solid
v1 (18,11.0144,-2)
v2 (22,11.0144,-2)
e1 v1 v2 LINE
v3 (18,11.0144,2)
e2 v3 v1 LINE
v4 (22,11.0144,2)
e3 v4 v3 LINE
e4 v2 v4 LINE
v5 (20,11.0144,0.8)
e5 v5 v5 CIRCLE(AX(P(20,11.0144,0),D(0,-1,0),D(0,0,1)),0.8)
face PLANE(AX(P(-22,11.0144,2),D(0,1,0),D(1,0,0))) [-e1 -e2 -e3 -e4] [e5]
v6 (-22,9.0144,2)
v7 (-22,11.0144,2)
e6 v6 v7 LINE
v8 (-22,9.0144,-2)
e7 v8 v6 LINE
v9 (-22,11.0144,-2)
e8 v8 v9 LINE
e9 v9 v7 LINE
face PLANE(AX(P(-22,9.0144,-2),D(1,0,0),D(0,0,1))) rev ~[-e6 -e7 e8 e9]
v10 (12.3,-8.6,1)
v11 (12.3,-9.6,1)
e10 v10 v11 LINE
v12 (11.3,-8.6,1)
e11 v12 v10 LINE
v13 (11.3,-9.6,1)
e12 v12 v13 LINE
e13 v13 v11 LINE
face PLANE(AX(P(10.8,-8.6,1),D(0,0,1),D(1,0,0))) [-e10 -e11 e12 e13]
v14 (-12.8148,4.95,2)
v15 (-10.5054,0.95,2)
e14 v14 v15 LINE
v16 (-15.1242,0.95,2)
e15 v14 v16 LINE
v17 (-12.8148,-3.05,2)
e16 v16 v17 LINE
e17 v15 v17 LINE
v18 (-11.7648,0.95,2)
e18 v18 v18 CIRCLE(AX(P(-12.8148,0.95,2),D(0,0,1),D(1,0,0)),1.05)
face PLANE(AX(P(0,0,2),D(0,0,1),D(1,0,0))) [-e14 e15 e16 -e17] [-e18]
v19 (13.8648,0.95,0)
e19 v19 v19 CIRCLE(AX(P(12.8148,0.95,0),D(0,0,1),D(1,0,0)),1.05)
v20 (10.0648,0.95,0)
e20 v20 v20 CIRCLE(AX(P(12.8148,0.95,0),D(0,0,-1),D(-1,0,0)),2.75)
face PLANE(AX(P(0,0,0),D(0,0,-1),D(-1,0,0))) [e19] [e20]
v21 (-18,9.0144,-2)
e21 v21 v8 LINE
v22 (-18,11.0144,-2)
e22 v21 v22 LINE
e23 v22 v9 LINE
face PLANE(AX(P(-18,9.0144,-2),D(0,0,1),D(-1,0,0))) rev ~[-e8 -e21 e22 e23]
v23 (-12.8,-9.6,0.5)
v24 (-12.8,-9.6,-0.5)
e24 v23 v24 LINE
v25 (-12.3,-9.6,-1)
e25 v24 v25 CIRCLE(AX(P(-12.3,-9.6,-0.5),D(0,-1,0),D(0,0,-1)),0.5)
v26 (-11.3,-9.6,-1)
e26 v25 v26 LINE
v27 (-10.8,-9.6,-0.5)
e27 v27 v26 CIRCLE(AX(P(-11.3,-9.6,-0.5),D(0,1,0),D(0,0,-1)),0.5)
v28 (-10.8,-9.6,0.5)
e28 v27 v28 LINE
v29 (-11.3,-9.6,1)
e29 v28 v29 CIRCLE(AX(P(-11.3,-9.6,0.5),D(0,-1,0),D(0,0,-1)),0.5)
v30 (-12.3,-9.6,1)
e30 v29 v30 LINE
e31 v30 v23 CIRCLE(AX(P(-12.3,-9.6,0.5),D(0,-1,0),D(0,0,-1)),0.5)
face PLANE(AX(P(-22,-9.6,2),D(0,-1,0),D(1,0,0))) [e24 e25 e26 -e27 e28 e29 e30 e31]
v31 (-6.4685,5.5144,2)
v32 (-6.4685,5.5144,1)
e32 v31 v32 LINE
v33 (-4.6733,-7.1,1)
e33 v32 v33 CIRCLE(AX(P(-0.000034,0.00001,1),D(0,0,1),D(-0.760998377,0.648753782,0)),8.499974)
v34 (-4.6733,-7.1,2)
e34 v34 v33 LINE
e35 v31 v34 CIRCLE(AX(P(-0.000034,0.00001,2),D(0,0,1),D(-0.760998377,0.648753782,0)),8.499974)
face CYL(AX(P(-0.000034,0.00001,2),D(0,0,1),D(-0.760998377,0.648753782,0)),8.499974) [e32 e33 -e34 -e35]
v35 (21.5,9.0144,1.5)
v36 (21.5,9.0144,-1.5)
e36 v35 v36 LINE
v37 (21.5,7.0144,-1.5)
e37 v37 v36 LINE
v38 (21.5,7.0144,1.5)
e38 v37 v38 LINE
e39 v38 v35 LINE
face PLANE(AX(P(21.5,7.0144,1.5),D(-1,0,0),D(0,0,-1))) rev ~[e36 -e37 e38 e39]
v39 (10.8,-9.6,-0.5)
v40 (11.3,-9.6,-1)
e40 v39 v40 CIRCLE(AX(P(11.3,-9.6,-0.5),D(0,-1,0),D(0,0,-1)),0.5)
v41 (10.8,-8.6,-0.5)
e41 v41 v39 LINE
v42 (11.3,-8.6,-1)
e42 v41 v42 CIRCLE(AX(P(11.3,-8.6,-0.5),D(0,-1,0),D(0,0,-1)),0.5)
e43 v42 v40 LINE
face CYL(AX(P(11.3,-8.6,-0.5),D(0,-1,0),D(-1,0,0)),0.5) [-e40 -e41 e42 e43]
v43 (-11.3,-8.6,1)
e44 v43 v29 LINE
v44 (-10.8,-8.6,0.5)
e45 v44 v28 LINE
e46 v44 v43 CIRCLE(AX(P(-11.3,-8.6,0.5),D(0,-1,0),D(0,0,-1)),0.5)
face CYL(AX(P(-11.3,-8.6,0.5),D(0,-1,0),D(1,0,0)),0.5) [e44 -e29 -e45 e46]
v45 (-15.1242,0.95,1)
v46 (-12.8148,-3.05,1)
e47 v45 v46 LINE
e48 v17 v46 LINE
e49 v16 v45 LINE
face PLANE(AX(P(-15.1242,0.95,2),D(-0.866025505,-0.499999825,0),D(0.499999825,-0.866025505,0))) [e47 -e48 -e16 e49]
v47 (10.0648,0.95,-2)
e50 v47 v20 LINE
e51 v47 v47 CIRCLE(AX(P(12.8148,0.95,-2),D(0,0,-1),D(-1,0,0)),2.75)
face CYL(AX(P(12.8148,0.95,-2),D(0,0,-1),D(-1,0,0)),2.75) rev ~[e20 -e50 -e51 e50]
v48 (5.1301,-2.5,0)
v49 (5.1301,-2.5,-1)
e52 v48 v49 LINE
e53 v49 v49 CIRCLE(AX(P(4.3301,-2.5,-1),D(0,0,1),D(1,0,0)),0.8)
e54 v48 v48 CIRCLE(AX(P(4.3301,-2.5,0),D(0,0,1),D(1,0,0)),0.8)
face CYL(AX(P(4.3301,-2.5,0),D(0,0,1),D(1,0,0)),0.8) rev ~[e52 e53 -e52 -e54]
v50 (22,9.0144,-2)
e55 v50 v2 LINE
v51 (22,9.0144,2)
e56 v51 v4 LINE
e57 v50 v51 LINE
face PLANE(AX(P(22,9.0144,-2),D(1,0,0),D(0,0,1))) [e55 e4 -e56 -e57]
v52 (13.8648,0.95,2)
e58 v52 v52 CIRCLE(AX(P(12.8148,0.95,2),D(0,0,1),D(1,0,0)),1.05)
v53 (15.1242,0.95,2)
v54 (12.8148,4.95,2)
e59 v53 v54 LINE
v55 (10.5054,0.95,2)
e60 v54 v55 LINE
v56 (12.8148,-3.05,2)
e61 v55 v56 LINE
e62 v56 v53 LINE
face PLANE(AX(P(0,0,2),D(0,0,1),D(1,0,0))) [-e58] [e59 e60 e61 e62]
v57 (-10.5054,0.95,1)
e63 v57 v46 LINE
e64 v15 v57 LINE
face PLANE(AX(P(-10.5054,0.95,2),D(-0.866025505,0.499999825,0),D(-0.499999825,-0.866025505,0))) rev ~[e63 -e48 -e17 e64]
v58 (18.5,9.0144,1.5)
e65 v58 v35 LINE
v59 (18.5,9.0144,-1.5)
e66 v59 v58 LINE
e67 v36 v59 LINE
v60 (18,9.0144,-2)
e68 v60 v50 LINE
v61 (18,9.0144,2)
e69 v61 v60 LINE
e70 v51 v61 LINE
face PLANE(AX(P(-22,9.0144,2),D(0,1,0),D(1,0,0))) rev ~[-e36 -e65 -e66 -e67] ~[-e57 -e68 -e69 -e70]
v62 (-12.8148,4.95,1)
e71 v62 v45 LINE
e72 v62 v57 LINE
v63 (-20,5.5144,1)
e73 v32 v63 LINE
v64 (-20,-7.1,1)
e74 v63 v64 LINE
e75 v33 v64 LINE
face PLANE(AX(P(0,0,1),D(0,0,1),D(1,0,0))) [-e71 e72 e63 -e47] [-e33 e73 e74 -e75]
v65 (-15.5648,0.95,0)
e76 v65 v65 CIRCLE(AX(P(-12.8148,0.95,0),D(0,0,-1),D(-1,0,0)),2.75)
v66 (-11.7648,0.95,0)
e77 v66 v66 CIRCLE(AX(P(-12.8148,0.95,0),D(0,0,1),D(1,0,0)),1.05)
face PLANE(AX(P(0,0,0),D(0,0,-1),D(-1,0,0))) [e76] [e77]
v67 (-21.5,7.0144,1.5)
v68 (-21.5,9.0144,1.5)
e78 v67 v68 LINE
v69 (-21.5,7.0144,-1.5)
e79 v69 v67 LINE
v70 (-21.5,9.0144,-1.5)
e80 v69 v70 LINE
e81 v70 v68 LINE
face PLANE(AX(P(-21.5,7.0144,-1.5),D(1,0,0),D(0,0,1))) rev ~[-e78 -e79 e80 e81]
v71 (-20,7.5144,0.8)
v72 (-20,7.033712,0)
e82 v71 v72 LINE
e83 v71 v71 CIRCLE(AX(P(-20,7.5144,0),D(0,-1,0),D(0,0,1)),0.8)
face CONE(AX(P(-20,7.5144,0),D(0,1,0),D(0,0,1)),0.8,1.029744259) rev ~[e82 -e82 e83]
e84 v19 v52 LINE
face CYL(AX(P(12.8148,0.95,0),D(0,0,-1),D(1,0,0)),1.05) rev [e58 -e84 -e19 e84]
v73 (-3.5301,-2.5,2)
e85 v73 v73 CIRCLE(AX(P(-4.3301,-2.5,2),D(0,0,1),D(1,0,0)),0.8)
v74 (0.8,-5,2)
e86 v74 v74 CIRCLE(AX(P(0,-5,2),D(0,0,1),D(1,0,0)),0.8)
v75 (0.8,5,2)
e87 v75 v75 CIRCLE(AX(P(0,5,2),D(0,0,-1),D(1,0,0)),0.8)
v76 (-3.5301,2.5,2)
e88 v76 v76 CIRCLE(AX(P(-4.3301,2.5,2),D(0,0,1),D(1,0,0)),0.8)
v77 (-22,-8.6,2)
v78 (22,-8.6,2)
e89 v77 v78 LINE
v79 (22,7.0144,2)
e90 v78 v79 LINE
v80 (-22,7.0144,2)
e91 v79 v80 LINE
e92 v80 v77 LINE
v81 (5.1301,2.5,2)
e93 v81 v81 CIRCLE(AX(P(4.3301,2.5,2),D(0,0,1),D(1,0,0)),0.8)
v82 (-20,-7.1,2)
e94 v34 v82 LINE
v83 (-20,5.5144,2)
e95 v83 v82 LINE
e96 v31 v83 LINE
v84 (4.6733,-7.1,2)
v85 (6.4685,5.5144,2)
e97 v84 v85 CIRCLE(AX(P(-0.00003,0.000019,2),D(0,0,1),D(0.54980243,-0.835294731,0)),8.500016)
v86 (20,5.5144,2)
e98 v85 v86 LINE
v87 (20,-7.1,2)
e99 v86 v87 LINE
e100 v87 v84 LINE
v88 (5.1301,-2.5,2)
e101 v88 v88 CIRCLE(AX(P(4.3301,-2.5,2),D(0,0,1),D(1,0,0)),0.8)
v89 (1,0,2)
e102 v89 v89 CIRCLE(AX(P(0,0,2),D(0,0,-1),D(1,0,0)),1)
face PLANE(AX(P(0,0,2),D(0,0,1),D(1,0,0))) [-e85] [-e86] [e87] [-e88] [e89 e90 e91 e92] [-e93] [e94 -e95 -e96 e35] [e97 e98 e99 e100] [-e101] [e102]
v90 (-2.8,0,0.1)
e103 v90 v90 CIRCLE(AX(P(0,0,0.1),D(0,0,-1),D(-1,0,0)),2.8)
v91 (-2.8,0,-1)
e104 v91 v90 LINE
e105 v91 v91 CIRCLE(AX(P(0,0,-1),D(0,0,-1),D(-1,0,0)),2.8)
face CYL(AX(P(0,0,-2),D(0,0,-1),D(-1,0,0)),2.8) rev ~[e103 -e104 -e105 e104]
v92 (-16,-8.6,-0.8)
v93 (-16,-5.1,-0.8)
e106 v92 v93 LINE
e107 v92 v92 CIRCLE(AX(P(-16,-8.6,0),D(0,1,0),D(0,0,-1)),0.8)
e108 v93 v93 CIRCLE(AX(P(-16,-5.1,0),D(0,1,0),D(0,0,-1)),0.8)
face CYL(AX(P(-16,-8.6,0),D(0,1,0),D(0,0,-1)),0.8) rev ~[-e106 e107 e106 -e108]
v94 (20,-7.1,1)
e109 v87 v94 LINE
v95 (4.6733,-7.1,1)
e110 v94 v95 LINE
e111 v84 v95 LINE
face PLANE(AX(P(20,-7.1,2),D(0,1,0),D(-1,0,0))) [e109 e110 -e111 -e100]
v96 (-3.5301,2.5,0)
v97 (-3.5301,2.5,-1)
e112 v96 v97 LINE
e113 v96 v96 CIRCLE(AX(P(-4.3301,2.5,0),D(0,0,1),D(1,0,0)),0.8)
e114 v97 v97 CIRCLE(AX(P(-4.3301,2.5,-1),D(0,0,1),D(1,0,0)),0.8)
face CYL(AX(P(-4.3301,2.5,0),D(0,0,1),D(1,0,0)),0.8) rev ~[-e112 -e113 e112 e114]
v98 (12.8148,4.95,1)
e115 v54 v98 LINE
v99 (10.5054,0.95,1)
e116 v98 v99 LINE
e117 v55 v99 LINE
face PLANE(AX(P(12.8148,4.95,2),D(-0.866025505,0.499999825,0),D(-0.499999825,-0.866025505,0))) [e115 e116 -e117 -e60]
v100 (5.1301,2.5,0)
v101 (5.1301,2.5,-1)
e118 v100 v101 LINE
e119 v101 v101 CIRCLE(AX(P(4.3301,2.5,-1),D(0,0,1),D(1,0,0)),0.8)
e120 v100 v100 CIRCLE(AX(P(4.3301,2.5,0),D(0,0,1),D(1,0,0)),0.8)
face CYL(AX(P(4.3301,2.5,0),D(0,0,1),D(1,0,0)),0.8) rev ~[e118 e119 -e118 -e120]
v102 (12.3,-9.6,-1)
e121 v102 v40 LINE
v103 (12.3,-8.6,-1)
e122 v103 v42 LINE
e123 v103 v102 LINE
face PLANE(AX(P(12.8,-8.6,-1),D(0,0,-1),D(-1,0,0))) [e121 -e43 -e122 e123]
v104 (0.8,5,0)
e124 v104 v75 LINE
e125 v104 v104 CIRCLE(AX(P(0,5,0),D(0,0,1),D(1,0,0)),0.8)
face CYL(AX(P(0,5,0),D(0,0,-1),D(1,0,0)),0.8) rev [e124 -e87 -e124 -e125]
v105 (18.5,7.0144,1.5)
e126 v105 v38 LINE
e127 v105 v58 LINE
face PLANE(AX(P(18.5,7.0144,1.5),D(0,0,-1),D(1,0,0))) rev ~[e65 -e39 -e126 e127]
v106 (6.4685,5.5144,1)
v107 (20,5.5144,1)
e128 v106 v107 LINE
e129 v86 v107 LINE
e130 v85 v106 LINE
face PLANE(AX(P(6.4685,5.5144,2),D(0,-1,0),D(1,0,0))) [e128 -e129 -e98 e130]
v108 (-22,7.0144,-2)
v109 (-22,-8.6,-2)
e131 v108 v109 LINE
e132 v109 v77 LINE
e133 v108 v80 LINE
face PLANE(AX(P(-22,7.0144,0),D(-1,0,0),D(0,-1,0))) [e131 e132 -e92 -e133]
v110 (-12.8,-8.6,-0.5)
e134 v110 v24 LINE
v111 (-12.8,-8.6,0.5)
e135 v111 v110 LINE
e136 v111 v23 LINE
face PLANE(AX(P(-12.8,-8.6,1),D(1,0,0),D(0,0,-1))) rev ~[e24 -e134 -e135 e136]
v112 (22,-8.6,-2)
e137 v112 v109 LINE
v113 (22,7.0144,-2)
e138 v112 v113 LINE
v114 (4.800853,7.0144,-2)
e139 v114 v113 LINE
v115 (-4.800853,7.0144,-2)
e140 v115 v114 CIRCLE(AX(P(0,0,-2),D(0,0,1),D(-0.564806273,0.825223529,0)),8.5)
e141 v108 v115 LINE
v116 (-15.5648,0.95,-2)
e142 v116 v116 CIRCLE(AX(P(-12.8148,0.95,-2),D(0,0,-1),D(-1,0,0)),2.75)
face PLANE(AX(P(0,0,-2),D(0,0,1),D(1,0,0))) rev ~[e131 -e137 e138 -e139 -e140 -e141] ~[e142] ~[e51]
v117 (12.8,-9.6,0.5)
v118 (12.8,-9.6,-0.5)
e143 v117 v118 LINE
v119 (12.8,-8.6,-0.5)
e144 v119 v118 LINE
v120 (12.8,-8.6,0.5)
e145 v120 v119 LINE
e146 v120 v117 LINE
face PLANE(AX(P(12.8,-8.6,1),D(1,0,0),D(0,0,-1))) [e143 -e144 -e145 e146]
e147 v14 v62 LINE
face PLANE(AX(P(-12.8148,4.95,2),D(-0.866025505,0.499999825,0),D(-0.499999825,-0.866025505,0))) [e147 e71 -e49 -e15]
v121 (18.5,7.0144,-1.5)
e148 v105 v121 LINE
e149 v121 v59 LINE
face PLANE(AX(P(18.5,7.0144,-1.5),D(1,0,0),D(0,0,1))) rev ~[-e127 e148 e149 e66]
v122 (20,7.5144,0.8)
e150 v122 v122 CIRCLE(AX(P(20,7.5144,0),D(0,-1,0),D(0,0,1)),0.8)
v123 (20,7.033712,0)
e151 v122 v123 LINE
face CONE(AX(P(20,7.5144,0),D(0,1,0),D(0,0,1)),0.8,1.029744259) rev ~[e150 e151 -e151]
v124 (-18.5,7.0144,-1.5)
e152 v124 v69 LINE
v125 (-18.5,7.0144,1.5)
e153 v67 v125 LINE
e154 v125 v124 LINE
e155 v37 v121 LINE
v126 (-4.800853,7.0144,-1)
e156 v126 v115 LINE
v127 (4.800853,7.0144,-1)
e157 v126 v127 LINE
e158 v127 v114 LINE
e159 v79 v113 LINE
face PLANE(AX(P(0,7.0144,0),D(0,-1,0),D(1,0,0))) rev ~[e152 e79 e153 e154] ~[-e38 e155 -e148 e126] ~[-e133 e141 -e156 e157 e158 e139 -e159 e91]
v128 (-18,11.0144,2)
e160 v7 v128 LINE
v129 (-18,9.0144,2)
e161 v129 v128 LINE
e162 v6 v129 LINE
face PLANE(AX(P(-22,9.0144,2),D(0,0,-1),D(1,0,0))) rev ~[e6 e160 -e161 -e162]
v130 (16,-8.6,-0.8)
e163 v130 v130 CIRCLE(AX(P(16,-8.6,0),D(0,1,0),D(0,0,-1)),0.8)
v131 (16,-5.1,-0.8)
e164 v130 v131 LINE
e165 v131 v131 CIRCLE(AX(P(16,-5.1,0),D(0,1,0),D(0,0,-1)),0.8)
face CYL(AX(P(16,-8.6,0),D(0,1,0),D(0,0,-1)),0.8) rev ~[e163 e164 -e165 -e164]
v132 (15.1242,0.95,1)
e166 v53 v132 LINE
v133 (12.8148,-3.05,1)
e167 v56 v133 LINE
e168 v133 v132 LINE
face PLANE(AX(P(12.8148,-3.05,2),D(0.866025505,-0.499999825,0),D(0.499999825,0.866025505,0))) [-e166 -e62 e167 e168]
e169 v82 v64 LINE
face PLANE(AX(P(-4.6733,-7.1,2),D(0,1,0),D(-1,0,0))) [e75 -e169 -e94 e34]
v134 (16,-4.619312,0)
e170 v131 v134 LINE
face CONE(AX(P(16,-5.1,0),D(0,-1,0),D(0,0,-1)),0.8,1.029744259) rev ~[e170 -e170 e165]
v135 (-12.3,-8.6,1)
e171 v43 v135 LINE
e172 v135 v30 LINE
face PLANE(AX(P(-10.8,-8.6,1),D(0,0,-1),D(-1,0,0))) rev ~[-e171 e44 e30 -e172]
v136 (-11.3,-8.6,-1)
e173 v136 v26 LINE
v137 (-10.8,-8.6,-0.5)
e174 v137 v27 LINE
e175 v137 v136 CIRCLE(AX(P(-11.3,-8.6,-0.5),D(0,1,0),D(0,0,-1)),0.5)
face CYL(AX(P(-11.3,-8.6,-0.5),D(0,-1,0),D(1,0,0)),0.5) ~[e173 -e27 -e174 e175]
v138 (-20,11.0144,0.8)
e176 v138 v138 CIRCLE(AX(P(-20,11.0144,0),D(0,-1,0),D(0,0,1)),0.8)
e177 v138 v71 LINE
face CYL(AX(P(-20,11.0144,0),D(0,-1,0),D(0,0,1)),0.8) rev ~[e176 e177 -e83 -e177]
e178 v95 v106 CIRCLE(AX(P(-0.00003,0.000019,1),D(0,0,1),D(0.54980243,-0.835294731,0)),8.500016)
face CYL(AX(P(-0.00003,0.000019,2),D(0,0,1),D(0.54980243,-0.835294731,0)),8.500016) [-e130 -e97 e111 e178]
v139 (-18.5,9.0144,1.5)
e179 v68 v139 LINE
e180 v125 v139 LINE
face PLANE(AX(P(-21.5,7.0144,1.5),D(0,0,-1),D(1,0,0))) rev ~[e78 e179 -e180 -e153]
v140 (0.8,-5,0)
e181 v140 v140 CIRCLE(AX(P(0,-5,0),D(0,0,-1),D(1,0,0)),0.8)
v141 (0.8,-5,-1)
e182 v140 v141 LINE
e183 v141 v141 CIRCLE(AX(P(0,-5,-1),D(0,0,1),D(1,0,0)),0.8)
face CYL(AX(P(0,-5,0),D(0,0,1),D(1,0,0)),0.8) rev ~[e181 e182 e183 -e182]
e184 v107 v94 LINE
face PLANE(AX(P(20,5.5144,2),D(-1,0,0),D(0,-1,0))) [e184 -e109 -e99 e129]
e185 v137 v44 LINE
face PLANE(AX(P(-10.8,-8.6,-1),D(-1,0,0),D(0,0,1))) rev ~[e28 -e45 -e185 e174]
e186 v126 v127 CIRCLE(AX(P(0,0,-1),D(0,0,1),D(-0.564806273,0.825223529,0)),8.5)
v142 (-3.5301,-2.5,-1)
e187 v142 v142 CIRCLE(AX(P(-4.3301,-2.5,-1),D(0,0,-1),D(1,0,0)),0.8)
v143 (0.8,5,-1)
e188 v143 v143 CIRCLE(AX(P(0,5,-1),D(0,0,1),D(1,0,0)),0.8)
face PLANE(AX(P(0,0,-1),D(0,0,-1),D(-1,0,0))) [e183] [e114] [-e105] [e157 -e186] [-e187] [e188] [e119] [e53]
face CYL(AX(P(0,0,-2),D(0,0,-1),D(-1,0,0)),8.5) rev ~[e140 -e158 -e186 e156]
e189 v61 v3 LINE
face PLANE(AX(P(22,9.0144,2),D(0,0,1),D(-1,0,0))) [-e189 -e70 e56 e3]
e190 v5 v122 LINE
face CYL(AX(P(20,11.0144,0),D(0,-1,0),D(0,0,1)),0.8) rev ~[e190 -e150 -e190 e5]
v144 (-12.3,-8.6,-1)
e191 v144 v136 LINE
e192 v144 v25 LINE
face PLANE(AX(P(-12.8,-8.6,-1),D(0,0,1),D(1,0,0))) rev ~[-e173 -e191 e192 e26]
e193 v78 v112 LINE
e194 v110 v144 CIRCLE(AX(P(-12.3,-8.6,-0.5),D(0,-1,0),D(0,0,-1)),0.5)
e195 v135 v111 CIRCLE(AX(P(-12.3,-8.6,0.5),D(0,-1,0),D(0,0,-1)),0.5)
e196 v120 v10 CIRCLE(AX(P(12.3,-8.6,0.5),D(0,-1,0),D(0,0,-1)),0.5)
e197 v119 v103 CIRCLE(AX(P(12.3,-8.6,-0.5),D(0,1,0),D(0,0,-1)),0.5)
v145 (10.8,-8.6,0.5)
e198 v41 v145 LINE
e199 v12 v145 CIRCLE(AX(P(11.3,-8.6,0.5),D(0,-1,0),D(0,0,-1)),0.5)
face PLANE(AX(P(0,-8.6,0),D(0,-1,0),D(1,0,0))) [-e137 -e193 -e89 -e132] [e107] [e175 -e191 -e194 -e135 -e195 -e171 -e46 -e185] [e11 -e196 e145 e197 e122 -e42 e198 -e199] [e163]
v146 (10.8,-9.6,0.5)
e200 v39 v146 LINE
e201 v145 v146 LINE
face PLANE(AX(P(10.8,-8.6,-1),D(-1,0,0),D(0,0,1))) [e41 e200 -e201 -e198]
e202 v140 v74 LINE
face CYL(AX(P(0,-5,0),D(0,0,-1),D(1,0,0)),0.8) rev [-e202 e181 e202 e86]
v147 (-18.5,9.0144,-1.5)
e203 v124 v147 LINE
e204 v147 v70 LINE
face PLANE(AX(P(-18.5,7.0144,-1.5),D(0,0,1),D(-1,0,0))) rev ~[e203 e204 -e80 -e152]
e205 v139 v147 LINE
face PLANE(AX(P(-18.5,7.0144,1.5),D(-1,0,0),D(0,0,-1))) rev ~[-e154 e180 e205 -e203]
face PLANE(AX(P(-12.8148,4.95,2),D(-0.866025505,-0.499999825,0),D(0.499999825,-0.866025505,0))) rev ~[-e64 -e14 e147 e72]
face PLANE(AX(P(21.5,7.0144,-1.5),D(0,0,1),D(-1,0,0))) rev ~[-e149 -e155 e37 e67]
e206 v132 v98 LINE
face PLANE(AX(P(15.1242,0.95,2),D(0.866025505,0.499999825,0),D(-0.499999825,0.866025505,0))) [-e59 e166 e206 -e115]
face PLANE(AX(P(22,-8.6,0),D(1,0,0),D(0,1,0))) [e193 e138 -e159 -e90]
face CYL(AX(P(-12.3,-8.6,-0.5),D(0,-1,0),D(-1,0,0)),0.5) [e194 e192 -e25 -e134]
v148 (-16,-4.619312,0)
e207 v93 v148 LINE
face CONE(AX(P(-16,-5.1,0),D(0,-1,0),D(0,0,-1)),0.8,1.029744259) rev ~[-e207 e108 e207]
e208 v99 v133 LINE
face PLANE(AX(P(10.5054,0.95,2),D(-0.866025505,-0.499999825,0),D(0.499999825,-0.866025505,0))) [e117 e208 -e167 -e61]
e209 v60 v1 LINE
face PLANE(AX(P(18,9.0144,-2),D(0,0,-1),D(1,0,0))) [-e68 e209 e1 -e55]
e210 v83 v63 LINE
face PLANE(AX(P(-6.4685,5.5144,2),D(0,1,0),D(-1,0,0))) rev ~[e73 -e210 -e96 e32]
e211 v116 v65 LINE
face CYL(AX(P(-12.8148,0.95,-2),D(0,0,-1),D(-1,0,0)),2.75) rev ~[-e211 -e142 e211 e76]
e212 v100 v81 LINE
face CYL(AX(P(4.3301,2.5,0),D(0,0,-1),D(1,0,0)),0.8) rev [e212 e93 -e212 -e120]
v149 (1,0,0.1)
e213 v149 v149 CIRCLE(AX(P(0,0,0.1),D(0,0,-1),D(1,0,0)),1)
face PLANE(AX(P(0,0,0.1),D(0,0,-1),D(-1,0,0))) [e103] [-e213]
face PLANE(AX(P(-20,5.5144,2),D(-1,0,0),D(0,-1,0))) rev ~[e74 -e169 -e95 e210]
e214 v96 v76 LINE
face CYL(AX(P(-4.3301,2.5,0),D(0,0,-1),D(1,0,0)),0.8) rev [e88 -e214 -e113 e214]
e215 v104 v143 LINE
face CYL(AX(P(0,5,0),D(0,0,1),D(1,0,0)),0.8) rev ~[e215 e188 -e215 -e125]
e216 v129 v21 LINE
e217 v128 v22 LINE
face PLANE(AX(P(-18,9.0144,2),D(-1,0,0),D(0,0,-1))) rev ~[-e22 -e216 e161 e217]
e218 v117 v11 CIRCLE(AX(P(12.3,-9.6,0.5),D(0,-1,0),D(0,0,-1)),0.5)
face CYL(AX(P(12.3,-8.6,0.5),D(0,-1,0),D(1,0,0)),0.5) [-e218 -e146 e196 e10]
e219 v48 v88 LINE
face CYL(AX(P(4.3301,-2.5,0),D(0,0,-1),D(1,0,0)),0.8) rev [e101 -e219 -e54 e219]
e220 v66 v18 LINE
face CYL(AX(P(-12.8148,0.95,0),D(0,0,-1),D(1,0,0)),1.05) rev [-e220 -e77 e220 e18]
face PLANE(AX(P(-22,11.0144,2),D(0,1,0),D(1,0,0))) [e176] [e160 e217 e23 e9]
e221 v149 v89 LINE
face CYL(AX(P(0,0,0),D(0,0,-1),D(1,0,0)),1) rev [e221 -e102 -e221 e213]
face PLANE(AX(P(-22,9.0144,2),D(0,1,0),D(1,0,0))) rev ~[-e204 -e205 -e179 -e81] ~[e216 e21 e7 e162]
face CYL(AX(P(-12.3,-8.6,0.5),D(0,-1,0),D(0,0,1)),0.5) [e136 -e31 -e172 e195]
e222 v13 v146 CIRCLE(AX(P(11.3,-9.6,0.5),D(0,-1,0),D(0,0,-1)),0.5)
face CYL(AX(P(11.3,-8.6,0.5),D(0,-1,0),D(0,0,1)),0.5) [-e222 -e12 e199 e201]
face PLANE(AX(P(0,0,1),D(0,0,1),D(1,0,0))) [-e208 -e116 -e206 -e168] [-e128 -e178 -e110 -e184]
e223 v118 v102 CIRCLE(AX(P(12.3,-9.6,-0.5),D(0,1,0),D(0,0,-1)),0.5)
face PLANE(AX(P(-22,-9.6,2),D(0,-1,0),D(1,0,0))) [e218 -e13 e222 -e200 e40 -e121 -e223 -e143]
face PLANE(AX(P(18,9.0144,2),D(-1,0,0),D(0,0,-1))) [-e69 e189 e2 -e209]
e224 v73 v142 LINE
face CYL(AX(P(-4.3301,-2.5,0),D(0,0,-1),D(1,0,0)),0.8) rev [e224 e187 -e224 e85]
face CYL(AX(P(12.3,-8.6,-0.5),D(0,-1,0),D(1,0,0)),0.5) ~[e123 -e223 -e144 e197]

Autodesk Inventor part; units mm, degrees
ref_plane "YZ Plane" through (0, 0, 0) normal (1, 0, 0) x (0, 1, 0)
ref_plane "XZ Plane" through (0, 0, 0) normal (0, 1, 0) x (-1, 0, 0)
ref_plane "XY Plane" through (0, 0, 0) normal (0, 0, 1) x (1, 0, 0)
sketch "構築線" plane through (0, 0, 0) normal (0, 0, 1) x (1, 0, 0)
  circle A0 centre (0, 0) radius 8.5
  circle A1 centre (0, 0) radius 2.8 construction
  circle A2 centre (0, 0) radius 5 construction
  line L0 (0, -8.6) -> (-25, -8.6) construction
  line L1 (0, -11.6) -> (-25, -11.6) construction
  circle A3 centre (-12.8148, 0.95) radius 10.05 construction
  circle A4 centre (-12.8148, 0.95) radius 12.55 construction
  circle A5 centre (0, 5) radius 0.8
  circle A6 centre (-4.3301, 2.5) radius 0.8
  circle A7 centre (-4.3301, -2.5) radius 0.8
  circle A8 centre (0, -5) radius 0.8
  circle A9 centre (4.3301, -2.5) radius 0.8
  circle A10 centre (4.3301, 2.5) radius 0.8
  line L2 (25, -8.6) -> (0, -8.6) construction
  circle A11 centre (12.8148, 0.95) radius 10.05 construction
  circle A12 centre (12.8148, 0.95) radius 12.55 construction
  line L3 (0, -11.6) -> (25, -11.6) construction
  line L4 (-22, -8.6) -> (0, -8.6)
  line L5 (0, 25) -> (0, -25)
  line L6 (0, -8.6) -> (22, -8.6)
  circle A13 centre (0, 0) radius 3
  circle A14 centre (0, 0) radius 1
  circle A15 centre (12.8148, 0.95) radius 1.05
  circle A16 centre (-12.8148, 0.95) radius 1.05
  circle A17 centre (12.8148, 0.95) radius 2.75
  circle A18 centre (-12.8148, 0.95) radius 2.75
  line L7 (-4.8008, 7.0144) -> (-17, 7.0144)
  line L8 (4.8008, 7.0144) -> (17, 7.0144)
  line L9 (-4.8008, 7.0144) -> (4.8008, 7.0144)
  line L10 (-17, 7.0144) -> (-22, 7.0144)
  line L11 (-22, 7.0144) -> (-22, -8.6)
  line L12 (22, -8.6) -> (22, 7.0144)
  line L13 (22, 7.0144) -> (17, 7.0144)
  dimension "d22" = 20.1
  dimension "d41" = 20.1
  dimension "d0" = 17
  dimension "d1" = 5.6
  dimension "d2" = 10
  dimension "d12" = 25
  dimension "d13" = 8.6
  dimension "d14" = 0
  dimension "d17" = 0
  dimension "d18" = 25
  dimension "d19" = 3
  dimension "d23" = 25.1
  dimension "d29" = 1.6
  dimension "d30" = 0
  dimension "d31" = 5
  dimension "d34" = 360
  dimension "d38" = 25
  dimension "d42" = 25.1
  dimension "d43" = 25
  dimension "d46" = 22
  dimension "d49" = 50
  dimension "d50" = 25
  dimension "d51" = 25
  dimension "d52" = 22
  dimension "d58" = 6
  dimension "d59" = 2
  dimension "d99" = 2.1
  dimension "d100" = 2.1
  dimension "d105" = 5.5
  dimension "d106" = 5.5
extrude "押し出し11" add sketch "構築線" along normal mid plane 4 contours A0 L5 A8 A13 A5 L9 | A0 L8 L13 L12 L6 L5 | L5 L4 L11 L10 L7 A0 | A0 L9 L5 A5 A13 A8 | A13 L5 A14 | L5 A14 A13 | A17 | A18
sketch "模様" plane through (0, 0, 2) normal (0, 0, 1) x (1, 0, 0)
  line L0 (-20, 5.5144) -> (-20, -7.1)
  line L1 (-20, -7.1) -> (20, -7.1) construction
  line L2 (-22, -8.6) -> (-22, 12.4) construction
  line L3 (-22, -8.6) -> (22, -8.6) construction
  line L4 (-20, 5.5144) -> (20, 5.5144) construction
  line L5 (20, 5.5144) -> (20, -7.1)
  line L6 (22, -8.6) -> (22, 12.4) construction
  line L7 (17, 7.0144) -> (-17, 7.0144) construction
  line L8 (-6.4685, 5.5144) -> (-20, 5.5144)
  line L9 (6.4685, 5.5144) -> (20, 5.5144)
  circle A0 centre (-12.8148, 0.95) radius 4 construction
  circle A1 centre (-12.8148, 0.95) radius 1.05 projected
  line L10 (-12.8148, 0.95) -> (-12.8148, 4.95) construction
  line L11 (-12.8148, 0.95) -> (-16.8148, 0.95) construction
  line L12 (-12.8148, 4.95) -> (-15.1242, 0.95)
  line L13 (-15.1242, 0.95) -> (-12.8148, -3.05)
  line L14 (-12.8148, 4.95) -> (-10.5054, 0.95)
  line L15 (-10.5054, 0.95) -> (-12.8148, -3.05)
  circle A2 centre (0, 0) radius 1 projected
  line L16 (-4.6733, -7.1) -> (-20, -7.1)
  line L17 (20, -7.1) -> (4.6733, -7.1)
  circle A3 centre (12.8148, 0.95) radius 4 construction
  circle A4 centre (0, 0) radius 8.5 construction
  arc A5 (-6.4685, 5.5144) -> (-4.6733, -7.1) centre (0, 0) ccw
  circle A6 centre (0, 0) radius 1 projected
  circle A7 centre (12.8148, 0.95) radius 1.05 projected
  arc A8 (4.6733, -7.1) -> (6.4685, 5.5144) centre (0, 0) ccw
  line L18 (12.8148, 0.95) -> (12.8148, 4.95) construction
  line L19 (12.8148, 0.95) -> (8.8148, 0.95) construction
  line L20 (12.8148, 4.95) -> (10.5054, 0.95)
  line L21 (10.5054, 0.95) -> (12.8148, -3.05)
  line L22 (12.8148, -3.05) -> (15.1242, 0.95)
  line L23 (15.1242, 0.95) -> (12.8148, 4.95)
  dimension "d166" = 17
  dimension "d135" = 2
  dimension "d136" = 1.5
  dimension "d137" = 2
  dimension "d138" = 1.5
  dimension "d139" = 8
  dimension "d140" = 60
  dimension "d141" = 60
  dimension "d142" = 60
  dimension "d143" = 60
  dimension "d145" = 8
  dimension "d167" = 60
  dimension "d168" = 60
  dimension "d169" = 60
sketch "スケッチ8" plane through (-22, 7.0144, 2) normal (0, 1, 0) x (1, 0, 0)
  line L0 (0.5, 0.5) -> (3.5, 0.5)
  line L1 (3.5, 0.5) -> (3.5, 3.5)
  line L2 (3.5, 3.5) -> (0.5, 3.5)
  line L3 (0.5, 3.5) -> (0.5, 0.5)
  line L4 (0.5, 0.5) -> (3.5, 3.5) construction
  line L5 (3.5, 0.5) -> (0.5, 3.5) construction
  line L6 (44, 0) -> (0, 0) projected
  line L7 (40.5, 0.5) -> (43.5, 0.5)
  line L8 (43.5, 0.5) -> (43.5, 3.5)
  line L9 (43.5, 3.5) -> (40.5, 3.5)
  line L10 (40.5, 3.5) -> (40.5, 0.5)
  line L11 (40.5, 0.5) -> (43.5, 3.5) construction
  line L12 (43.5, 0.5) -> (40.5, 3.5) construction
  point P0 (22, 2)
  point P1 (2, 2)
  point P2 (42, 2)
  dimension "d146" = 3
  dimension "d147" = 3
  dimension "d148" = 0.5
  dimension "d149" = 0.5
  dimension "d150" = 3
  dimension "d151" = 3
  dimension "d152" = 0.5
  dimension "d153" = 0.5
extrude "押し出し12" add sketch "スケッチ8" along normal blind 2
sketch "スケッチ9" plane through (-22, 9.0144, 2) normal (0, 1, 0) x (1, 0, 0)
  line L0 (4, 4) -> (0, 4)
  line L1 (0, 4) -> (0, 0)
  line L2 (0, 0) -> (4, 0)
  line L3 (4, 0) -> (4, 4)
  line L4 (4, 4) -> (0, 0) construction
  line L5 (0, 4) -> (4, 0) construction
  line L6 (0, 4) -> (0, 0) projected
  line L7 (44, 0) -> (0, 0) projected
  line L8 (40, 4) -> (44, 4)
  line L9 (44, 4) -> (44, 0)
  line L10 (44, 0) -> (40, 0)
  line L11 (40, 0) -> (40, 4)
  line L12 (40, 4) -> (44, 0) construction
  line L13 (44, 4) -> (40, 0) construction
  point P0 (22, 2)
  point P1 (2, 2)
  point P2 (42, 2)
  dimension "d156" = 4
  dimension "d157" = 4
  dimension "d158" = 2
  dimension "d159" = 2
  dimension "d160" = 4
  dimension "d161" = 4
  dimension "d162" = 2
  dimension "d163" = 2
extrude "押し出し13" add sketch "スケッチ9" along normal blind 2
extrude "押し出し16" cut sketch "模様" against normal blind 1 contours L8 A5 L16 L0 | L5 L17 A8 L9
sketch "固定穴" plane through (0, 0, -2) normal (0, 0, -1) x (-1, 0, 0)
  circle A0 centre (0, 0) radius 8.5
  line L0 (0, -8.6) -> (-25, -8.6) construction
  line L1 (25, -8.6) -> (0, -8.6) construction
  line L2 (0, 25) -> (0, -25)
  circle A1 centre (12.8148, 0.95) radius 2.75
  circle A2 centre (-12.8148, 0.95) radius 2.75
  circle A3 centre (0, 0) radius 1 projected
  circle A4 centre (-12.8148, 0.95) radius 1.05 projected
  circle A5 centre (12.8148, 0.95) radius 1.05 projected
  circle A6 centre (0, 0) radius 2.8
  dimension "d180" = 17
  dimension "d183" = 25
  dimension "d195" = 25
  dimension "d200" = 50
  dimension "d208" = 5.5
  dimension "d209" = 5.5
  dimension "d216" = 5.6
extrude "押し出し19" cut sketch "固定穴" against normal blind 2 contours A1 | A2 | A4 | A5
extrude "押し出し20" cut sketch "固定穴" against normal blind 1 contours A0 L2 A6 | L2 A6 A0 | A6 L2 A3 | L2 A3 A6 | A3 L2 | L2 A3
extrude "押し出し21" cut sketch "固定穴" against normal blind 2.1 contours A6 L2 A3 | L2 A3 A6
sketch "ねじ穴+固定(基板)" plane through (-22, -8.6, 2) normal (0, -1, 0) x (1, 0, 0)
  circle A0 centre (38, -2) radius 1
  line L0 (44, -4) -> (44, 0) projected
  line L1 (44, -2) -> (0, -2) construction
  line L2 (0, -4) -> (0, 0) projected
  circle A1 centre (6, -2) radius 1
  line L3 (34.8, -3) -> (32.8, -3)
  line L4 (32.8, -3) -> (32.8, -1)
  line L5 (32.8, -1) -> (34.8, -1)
  line L6 (34.8, -1) -> (34.8, -3)
  line L7 (34.8, -3) -> (32.8, -1) construction
  line L8 (32.8, -3) -> (34.8, -1) construction
  line L9 (11.2, -1) -> (9.2, -1)
  line L10 (9.2, -1) -> (9.2, -3)
  line L11 (9.2, -3) -> (11.2, -3)
  line L12 (11.2, -3) -> (11.2, -1)
  line L13 (11.2, -1) -> (9.2, -3) construction
  line L14 (9.2, -1) -> (11.2, -3) construction
  point P0 (22, -2)
  point P1 (33.8, -2)
  point P2 (33.8, -2)
  point P3 (10.2, -2)
  point P4 (10.2, -2)
  dimension "d219" = 2
  dimension "d220" = 6
  dimension "d221" = 6
  dimension "d222" = 2
  dimension "d223" = 2
  dimension "d224" = 2
  dimension "d225" = 4.2
  dimension "d226" = 2
  dimension "d227" = 2
  dimension "d228" = 4.2
hole "ねじ穴(基板)" at (16, -8.6, 0) at (-16, -8.6, 0) direction (0, 1, 0) diameter 1.6 depth 3.5 tip angle 118
extrude "押し出し22" add sketch "ねじ穴+固定(基板)" along normal blind 1 contours L3 L4 L5 L6 | L12 L11 L10 L9
fillet "フィレット1" radius 0.5 4 edges at (12.8, -9.1, -1) (12.8, -9.1, 1) (10.8, -9.1, -1) (10.8, -9.1, 1)
fillet "フィレット2" radius 0.5 4 edges at (-12.8, -9.1, -1) (-12.8, -9.1, 1) (-10.8, -9.1, -1) (-10.8, -9.1, 1)
sketch "スケッチ12" plane through (-22, 11.0144, 2) normal (0, 1, 0) x (1, 0, 0)
  circle A0 centre (2, 2) radius 1
  line L0 (0, 0) -> (4, 0) projected
  line L1 (0, 4) -> (0, 0) projected
  circle A1 centre (42, 2) radius 1
  line L2 (44, 0) -> (44, 4) projected
  line L3 (40, 0) -> (44, 0) projected
  point P0 (22, 2)
  dimension "d240" = 2
  dimension "d241" = 2
  dimension "d242" = 2
  dimension "d243" = 2
  dimension "d244" = 2
  dimension "d245" = 2
hole "穴4" at (20, 11.0144, 0) at (-20, 11.0144, 0) direction (0, -1, 0) diameter 1.6 depth 3.5 tip angle 118
equation "\"d18\" = d12"
properties part number "mount2"
